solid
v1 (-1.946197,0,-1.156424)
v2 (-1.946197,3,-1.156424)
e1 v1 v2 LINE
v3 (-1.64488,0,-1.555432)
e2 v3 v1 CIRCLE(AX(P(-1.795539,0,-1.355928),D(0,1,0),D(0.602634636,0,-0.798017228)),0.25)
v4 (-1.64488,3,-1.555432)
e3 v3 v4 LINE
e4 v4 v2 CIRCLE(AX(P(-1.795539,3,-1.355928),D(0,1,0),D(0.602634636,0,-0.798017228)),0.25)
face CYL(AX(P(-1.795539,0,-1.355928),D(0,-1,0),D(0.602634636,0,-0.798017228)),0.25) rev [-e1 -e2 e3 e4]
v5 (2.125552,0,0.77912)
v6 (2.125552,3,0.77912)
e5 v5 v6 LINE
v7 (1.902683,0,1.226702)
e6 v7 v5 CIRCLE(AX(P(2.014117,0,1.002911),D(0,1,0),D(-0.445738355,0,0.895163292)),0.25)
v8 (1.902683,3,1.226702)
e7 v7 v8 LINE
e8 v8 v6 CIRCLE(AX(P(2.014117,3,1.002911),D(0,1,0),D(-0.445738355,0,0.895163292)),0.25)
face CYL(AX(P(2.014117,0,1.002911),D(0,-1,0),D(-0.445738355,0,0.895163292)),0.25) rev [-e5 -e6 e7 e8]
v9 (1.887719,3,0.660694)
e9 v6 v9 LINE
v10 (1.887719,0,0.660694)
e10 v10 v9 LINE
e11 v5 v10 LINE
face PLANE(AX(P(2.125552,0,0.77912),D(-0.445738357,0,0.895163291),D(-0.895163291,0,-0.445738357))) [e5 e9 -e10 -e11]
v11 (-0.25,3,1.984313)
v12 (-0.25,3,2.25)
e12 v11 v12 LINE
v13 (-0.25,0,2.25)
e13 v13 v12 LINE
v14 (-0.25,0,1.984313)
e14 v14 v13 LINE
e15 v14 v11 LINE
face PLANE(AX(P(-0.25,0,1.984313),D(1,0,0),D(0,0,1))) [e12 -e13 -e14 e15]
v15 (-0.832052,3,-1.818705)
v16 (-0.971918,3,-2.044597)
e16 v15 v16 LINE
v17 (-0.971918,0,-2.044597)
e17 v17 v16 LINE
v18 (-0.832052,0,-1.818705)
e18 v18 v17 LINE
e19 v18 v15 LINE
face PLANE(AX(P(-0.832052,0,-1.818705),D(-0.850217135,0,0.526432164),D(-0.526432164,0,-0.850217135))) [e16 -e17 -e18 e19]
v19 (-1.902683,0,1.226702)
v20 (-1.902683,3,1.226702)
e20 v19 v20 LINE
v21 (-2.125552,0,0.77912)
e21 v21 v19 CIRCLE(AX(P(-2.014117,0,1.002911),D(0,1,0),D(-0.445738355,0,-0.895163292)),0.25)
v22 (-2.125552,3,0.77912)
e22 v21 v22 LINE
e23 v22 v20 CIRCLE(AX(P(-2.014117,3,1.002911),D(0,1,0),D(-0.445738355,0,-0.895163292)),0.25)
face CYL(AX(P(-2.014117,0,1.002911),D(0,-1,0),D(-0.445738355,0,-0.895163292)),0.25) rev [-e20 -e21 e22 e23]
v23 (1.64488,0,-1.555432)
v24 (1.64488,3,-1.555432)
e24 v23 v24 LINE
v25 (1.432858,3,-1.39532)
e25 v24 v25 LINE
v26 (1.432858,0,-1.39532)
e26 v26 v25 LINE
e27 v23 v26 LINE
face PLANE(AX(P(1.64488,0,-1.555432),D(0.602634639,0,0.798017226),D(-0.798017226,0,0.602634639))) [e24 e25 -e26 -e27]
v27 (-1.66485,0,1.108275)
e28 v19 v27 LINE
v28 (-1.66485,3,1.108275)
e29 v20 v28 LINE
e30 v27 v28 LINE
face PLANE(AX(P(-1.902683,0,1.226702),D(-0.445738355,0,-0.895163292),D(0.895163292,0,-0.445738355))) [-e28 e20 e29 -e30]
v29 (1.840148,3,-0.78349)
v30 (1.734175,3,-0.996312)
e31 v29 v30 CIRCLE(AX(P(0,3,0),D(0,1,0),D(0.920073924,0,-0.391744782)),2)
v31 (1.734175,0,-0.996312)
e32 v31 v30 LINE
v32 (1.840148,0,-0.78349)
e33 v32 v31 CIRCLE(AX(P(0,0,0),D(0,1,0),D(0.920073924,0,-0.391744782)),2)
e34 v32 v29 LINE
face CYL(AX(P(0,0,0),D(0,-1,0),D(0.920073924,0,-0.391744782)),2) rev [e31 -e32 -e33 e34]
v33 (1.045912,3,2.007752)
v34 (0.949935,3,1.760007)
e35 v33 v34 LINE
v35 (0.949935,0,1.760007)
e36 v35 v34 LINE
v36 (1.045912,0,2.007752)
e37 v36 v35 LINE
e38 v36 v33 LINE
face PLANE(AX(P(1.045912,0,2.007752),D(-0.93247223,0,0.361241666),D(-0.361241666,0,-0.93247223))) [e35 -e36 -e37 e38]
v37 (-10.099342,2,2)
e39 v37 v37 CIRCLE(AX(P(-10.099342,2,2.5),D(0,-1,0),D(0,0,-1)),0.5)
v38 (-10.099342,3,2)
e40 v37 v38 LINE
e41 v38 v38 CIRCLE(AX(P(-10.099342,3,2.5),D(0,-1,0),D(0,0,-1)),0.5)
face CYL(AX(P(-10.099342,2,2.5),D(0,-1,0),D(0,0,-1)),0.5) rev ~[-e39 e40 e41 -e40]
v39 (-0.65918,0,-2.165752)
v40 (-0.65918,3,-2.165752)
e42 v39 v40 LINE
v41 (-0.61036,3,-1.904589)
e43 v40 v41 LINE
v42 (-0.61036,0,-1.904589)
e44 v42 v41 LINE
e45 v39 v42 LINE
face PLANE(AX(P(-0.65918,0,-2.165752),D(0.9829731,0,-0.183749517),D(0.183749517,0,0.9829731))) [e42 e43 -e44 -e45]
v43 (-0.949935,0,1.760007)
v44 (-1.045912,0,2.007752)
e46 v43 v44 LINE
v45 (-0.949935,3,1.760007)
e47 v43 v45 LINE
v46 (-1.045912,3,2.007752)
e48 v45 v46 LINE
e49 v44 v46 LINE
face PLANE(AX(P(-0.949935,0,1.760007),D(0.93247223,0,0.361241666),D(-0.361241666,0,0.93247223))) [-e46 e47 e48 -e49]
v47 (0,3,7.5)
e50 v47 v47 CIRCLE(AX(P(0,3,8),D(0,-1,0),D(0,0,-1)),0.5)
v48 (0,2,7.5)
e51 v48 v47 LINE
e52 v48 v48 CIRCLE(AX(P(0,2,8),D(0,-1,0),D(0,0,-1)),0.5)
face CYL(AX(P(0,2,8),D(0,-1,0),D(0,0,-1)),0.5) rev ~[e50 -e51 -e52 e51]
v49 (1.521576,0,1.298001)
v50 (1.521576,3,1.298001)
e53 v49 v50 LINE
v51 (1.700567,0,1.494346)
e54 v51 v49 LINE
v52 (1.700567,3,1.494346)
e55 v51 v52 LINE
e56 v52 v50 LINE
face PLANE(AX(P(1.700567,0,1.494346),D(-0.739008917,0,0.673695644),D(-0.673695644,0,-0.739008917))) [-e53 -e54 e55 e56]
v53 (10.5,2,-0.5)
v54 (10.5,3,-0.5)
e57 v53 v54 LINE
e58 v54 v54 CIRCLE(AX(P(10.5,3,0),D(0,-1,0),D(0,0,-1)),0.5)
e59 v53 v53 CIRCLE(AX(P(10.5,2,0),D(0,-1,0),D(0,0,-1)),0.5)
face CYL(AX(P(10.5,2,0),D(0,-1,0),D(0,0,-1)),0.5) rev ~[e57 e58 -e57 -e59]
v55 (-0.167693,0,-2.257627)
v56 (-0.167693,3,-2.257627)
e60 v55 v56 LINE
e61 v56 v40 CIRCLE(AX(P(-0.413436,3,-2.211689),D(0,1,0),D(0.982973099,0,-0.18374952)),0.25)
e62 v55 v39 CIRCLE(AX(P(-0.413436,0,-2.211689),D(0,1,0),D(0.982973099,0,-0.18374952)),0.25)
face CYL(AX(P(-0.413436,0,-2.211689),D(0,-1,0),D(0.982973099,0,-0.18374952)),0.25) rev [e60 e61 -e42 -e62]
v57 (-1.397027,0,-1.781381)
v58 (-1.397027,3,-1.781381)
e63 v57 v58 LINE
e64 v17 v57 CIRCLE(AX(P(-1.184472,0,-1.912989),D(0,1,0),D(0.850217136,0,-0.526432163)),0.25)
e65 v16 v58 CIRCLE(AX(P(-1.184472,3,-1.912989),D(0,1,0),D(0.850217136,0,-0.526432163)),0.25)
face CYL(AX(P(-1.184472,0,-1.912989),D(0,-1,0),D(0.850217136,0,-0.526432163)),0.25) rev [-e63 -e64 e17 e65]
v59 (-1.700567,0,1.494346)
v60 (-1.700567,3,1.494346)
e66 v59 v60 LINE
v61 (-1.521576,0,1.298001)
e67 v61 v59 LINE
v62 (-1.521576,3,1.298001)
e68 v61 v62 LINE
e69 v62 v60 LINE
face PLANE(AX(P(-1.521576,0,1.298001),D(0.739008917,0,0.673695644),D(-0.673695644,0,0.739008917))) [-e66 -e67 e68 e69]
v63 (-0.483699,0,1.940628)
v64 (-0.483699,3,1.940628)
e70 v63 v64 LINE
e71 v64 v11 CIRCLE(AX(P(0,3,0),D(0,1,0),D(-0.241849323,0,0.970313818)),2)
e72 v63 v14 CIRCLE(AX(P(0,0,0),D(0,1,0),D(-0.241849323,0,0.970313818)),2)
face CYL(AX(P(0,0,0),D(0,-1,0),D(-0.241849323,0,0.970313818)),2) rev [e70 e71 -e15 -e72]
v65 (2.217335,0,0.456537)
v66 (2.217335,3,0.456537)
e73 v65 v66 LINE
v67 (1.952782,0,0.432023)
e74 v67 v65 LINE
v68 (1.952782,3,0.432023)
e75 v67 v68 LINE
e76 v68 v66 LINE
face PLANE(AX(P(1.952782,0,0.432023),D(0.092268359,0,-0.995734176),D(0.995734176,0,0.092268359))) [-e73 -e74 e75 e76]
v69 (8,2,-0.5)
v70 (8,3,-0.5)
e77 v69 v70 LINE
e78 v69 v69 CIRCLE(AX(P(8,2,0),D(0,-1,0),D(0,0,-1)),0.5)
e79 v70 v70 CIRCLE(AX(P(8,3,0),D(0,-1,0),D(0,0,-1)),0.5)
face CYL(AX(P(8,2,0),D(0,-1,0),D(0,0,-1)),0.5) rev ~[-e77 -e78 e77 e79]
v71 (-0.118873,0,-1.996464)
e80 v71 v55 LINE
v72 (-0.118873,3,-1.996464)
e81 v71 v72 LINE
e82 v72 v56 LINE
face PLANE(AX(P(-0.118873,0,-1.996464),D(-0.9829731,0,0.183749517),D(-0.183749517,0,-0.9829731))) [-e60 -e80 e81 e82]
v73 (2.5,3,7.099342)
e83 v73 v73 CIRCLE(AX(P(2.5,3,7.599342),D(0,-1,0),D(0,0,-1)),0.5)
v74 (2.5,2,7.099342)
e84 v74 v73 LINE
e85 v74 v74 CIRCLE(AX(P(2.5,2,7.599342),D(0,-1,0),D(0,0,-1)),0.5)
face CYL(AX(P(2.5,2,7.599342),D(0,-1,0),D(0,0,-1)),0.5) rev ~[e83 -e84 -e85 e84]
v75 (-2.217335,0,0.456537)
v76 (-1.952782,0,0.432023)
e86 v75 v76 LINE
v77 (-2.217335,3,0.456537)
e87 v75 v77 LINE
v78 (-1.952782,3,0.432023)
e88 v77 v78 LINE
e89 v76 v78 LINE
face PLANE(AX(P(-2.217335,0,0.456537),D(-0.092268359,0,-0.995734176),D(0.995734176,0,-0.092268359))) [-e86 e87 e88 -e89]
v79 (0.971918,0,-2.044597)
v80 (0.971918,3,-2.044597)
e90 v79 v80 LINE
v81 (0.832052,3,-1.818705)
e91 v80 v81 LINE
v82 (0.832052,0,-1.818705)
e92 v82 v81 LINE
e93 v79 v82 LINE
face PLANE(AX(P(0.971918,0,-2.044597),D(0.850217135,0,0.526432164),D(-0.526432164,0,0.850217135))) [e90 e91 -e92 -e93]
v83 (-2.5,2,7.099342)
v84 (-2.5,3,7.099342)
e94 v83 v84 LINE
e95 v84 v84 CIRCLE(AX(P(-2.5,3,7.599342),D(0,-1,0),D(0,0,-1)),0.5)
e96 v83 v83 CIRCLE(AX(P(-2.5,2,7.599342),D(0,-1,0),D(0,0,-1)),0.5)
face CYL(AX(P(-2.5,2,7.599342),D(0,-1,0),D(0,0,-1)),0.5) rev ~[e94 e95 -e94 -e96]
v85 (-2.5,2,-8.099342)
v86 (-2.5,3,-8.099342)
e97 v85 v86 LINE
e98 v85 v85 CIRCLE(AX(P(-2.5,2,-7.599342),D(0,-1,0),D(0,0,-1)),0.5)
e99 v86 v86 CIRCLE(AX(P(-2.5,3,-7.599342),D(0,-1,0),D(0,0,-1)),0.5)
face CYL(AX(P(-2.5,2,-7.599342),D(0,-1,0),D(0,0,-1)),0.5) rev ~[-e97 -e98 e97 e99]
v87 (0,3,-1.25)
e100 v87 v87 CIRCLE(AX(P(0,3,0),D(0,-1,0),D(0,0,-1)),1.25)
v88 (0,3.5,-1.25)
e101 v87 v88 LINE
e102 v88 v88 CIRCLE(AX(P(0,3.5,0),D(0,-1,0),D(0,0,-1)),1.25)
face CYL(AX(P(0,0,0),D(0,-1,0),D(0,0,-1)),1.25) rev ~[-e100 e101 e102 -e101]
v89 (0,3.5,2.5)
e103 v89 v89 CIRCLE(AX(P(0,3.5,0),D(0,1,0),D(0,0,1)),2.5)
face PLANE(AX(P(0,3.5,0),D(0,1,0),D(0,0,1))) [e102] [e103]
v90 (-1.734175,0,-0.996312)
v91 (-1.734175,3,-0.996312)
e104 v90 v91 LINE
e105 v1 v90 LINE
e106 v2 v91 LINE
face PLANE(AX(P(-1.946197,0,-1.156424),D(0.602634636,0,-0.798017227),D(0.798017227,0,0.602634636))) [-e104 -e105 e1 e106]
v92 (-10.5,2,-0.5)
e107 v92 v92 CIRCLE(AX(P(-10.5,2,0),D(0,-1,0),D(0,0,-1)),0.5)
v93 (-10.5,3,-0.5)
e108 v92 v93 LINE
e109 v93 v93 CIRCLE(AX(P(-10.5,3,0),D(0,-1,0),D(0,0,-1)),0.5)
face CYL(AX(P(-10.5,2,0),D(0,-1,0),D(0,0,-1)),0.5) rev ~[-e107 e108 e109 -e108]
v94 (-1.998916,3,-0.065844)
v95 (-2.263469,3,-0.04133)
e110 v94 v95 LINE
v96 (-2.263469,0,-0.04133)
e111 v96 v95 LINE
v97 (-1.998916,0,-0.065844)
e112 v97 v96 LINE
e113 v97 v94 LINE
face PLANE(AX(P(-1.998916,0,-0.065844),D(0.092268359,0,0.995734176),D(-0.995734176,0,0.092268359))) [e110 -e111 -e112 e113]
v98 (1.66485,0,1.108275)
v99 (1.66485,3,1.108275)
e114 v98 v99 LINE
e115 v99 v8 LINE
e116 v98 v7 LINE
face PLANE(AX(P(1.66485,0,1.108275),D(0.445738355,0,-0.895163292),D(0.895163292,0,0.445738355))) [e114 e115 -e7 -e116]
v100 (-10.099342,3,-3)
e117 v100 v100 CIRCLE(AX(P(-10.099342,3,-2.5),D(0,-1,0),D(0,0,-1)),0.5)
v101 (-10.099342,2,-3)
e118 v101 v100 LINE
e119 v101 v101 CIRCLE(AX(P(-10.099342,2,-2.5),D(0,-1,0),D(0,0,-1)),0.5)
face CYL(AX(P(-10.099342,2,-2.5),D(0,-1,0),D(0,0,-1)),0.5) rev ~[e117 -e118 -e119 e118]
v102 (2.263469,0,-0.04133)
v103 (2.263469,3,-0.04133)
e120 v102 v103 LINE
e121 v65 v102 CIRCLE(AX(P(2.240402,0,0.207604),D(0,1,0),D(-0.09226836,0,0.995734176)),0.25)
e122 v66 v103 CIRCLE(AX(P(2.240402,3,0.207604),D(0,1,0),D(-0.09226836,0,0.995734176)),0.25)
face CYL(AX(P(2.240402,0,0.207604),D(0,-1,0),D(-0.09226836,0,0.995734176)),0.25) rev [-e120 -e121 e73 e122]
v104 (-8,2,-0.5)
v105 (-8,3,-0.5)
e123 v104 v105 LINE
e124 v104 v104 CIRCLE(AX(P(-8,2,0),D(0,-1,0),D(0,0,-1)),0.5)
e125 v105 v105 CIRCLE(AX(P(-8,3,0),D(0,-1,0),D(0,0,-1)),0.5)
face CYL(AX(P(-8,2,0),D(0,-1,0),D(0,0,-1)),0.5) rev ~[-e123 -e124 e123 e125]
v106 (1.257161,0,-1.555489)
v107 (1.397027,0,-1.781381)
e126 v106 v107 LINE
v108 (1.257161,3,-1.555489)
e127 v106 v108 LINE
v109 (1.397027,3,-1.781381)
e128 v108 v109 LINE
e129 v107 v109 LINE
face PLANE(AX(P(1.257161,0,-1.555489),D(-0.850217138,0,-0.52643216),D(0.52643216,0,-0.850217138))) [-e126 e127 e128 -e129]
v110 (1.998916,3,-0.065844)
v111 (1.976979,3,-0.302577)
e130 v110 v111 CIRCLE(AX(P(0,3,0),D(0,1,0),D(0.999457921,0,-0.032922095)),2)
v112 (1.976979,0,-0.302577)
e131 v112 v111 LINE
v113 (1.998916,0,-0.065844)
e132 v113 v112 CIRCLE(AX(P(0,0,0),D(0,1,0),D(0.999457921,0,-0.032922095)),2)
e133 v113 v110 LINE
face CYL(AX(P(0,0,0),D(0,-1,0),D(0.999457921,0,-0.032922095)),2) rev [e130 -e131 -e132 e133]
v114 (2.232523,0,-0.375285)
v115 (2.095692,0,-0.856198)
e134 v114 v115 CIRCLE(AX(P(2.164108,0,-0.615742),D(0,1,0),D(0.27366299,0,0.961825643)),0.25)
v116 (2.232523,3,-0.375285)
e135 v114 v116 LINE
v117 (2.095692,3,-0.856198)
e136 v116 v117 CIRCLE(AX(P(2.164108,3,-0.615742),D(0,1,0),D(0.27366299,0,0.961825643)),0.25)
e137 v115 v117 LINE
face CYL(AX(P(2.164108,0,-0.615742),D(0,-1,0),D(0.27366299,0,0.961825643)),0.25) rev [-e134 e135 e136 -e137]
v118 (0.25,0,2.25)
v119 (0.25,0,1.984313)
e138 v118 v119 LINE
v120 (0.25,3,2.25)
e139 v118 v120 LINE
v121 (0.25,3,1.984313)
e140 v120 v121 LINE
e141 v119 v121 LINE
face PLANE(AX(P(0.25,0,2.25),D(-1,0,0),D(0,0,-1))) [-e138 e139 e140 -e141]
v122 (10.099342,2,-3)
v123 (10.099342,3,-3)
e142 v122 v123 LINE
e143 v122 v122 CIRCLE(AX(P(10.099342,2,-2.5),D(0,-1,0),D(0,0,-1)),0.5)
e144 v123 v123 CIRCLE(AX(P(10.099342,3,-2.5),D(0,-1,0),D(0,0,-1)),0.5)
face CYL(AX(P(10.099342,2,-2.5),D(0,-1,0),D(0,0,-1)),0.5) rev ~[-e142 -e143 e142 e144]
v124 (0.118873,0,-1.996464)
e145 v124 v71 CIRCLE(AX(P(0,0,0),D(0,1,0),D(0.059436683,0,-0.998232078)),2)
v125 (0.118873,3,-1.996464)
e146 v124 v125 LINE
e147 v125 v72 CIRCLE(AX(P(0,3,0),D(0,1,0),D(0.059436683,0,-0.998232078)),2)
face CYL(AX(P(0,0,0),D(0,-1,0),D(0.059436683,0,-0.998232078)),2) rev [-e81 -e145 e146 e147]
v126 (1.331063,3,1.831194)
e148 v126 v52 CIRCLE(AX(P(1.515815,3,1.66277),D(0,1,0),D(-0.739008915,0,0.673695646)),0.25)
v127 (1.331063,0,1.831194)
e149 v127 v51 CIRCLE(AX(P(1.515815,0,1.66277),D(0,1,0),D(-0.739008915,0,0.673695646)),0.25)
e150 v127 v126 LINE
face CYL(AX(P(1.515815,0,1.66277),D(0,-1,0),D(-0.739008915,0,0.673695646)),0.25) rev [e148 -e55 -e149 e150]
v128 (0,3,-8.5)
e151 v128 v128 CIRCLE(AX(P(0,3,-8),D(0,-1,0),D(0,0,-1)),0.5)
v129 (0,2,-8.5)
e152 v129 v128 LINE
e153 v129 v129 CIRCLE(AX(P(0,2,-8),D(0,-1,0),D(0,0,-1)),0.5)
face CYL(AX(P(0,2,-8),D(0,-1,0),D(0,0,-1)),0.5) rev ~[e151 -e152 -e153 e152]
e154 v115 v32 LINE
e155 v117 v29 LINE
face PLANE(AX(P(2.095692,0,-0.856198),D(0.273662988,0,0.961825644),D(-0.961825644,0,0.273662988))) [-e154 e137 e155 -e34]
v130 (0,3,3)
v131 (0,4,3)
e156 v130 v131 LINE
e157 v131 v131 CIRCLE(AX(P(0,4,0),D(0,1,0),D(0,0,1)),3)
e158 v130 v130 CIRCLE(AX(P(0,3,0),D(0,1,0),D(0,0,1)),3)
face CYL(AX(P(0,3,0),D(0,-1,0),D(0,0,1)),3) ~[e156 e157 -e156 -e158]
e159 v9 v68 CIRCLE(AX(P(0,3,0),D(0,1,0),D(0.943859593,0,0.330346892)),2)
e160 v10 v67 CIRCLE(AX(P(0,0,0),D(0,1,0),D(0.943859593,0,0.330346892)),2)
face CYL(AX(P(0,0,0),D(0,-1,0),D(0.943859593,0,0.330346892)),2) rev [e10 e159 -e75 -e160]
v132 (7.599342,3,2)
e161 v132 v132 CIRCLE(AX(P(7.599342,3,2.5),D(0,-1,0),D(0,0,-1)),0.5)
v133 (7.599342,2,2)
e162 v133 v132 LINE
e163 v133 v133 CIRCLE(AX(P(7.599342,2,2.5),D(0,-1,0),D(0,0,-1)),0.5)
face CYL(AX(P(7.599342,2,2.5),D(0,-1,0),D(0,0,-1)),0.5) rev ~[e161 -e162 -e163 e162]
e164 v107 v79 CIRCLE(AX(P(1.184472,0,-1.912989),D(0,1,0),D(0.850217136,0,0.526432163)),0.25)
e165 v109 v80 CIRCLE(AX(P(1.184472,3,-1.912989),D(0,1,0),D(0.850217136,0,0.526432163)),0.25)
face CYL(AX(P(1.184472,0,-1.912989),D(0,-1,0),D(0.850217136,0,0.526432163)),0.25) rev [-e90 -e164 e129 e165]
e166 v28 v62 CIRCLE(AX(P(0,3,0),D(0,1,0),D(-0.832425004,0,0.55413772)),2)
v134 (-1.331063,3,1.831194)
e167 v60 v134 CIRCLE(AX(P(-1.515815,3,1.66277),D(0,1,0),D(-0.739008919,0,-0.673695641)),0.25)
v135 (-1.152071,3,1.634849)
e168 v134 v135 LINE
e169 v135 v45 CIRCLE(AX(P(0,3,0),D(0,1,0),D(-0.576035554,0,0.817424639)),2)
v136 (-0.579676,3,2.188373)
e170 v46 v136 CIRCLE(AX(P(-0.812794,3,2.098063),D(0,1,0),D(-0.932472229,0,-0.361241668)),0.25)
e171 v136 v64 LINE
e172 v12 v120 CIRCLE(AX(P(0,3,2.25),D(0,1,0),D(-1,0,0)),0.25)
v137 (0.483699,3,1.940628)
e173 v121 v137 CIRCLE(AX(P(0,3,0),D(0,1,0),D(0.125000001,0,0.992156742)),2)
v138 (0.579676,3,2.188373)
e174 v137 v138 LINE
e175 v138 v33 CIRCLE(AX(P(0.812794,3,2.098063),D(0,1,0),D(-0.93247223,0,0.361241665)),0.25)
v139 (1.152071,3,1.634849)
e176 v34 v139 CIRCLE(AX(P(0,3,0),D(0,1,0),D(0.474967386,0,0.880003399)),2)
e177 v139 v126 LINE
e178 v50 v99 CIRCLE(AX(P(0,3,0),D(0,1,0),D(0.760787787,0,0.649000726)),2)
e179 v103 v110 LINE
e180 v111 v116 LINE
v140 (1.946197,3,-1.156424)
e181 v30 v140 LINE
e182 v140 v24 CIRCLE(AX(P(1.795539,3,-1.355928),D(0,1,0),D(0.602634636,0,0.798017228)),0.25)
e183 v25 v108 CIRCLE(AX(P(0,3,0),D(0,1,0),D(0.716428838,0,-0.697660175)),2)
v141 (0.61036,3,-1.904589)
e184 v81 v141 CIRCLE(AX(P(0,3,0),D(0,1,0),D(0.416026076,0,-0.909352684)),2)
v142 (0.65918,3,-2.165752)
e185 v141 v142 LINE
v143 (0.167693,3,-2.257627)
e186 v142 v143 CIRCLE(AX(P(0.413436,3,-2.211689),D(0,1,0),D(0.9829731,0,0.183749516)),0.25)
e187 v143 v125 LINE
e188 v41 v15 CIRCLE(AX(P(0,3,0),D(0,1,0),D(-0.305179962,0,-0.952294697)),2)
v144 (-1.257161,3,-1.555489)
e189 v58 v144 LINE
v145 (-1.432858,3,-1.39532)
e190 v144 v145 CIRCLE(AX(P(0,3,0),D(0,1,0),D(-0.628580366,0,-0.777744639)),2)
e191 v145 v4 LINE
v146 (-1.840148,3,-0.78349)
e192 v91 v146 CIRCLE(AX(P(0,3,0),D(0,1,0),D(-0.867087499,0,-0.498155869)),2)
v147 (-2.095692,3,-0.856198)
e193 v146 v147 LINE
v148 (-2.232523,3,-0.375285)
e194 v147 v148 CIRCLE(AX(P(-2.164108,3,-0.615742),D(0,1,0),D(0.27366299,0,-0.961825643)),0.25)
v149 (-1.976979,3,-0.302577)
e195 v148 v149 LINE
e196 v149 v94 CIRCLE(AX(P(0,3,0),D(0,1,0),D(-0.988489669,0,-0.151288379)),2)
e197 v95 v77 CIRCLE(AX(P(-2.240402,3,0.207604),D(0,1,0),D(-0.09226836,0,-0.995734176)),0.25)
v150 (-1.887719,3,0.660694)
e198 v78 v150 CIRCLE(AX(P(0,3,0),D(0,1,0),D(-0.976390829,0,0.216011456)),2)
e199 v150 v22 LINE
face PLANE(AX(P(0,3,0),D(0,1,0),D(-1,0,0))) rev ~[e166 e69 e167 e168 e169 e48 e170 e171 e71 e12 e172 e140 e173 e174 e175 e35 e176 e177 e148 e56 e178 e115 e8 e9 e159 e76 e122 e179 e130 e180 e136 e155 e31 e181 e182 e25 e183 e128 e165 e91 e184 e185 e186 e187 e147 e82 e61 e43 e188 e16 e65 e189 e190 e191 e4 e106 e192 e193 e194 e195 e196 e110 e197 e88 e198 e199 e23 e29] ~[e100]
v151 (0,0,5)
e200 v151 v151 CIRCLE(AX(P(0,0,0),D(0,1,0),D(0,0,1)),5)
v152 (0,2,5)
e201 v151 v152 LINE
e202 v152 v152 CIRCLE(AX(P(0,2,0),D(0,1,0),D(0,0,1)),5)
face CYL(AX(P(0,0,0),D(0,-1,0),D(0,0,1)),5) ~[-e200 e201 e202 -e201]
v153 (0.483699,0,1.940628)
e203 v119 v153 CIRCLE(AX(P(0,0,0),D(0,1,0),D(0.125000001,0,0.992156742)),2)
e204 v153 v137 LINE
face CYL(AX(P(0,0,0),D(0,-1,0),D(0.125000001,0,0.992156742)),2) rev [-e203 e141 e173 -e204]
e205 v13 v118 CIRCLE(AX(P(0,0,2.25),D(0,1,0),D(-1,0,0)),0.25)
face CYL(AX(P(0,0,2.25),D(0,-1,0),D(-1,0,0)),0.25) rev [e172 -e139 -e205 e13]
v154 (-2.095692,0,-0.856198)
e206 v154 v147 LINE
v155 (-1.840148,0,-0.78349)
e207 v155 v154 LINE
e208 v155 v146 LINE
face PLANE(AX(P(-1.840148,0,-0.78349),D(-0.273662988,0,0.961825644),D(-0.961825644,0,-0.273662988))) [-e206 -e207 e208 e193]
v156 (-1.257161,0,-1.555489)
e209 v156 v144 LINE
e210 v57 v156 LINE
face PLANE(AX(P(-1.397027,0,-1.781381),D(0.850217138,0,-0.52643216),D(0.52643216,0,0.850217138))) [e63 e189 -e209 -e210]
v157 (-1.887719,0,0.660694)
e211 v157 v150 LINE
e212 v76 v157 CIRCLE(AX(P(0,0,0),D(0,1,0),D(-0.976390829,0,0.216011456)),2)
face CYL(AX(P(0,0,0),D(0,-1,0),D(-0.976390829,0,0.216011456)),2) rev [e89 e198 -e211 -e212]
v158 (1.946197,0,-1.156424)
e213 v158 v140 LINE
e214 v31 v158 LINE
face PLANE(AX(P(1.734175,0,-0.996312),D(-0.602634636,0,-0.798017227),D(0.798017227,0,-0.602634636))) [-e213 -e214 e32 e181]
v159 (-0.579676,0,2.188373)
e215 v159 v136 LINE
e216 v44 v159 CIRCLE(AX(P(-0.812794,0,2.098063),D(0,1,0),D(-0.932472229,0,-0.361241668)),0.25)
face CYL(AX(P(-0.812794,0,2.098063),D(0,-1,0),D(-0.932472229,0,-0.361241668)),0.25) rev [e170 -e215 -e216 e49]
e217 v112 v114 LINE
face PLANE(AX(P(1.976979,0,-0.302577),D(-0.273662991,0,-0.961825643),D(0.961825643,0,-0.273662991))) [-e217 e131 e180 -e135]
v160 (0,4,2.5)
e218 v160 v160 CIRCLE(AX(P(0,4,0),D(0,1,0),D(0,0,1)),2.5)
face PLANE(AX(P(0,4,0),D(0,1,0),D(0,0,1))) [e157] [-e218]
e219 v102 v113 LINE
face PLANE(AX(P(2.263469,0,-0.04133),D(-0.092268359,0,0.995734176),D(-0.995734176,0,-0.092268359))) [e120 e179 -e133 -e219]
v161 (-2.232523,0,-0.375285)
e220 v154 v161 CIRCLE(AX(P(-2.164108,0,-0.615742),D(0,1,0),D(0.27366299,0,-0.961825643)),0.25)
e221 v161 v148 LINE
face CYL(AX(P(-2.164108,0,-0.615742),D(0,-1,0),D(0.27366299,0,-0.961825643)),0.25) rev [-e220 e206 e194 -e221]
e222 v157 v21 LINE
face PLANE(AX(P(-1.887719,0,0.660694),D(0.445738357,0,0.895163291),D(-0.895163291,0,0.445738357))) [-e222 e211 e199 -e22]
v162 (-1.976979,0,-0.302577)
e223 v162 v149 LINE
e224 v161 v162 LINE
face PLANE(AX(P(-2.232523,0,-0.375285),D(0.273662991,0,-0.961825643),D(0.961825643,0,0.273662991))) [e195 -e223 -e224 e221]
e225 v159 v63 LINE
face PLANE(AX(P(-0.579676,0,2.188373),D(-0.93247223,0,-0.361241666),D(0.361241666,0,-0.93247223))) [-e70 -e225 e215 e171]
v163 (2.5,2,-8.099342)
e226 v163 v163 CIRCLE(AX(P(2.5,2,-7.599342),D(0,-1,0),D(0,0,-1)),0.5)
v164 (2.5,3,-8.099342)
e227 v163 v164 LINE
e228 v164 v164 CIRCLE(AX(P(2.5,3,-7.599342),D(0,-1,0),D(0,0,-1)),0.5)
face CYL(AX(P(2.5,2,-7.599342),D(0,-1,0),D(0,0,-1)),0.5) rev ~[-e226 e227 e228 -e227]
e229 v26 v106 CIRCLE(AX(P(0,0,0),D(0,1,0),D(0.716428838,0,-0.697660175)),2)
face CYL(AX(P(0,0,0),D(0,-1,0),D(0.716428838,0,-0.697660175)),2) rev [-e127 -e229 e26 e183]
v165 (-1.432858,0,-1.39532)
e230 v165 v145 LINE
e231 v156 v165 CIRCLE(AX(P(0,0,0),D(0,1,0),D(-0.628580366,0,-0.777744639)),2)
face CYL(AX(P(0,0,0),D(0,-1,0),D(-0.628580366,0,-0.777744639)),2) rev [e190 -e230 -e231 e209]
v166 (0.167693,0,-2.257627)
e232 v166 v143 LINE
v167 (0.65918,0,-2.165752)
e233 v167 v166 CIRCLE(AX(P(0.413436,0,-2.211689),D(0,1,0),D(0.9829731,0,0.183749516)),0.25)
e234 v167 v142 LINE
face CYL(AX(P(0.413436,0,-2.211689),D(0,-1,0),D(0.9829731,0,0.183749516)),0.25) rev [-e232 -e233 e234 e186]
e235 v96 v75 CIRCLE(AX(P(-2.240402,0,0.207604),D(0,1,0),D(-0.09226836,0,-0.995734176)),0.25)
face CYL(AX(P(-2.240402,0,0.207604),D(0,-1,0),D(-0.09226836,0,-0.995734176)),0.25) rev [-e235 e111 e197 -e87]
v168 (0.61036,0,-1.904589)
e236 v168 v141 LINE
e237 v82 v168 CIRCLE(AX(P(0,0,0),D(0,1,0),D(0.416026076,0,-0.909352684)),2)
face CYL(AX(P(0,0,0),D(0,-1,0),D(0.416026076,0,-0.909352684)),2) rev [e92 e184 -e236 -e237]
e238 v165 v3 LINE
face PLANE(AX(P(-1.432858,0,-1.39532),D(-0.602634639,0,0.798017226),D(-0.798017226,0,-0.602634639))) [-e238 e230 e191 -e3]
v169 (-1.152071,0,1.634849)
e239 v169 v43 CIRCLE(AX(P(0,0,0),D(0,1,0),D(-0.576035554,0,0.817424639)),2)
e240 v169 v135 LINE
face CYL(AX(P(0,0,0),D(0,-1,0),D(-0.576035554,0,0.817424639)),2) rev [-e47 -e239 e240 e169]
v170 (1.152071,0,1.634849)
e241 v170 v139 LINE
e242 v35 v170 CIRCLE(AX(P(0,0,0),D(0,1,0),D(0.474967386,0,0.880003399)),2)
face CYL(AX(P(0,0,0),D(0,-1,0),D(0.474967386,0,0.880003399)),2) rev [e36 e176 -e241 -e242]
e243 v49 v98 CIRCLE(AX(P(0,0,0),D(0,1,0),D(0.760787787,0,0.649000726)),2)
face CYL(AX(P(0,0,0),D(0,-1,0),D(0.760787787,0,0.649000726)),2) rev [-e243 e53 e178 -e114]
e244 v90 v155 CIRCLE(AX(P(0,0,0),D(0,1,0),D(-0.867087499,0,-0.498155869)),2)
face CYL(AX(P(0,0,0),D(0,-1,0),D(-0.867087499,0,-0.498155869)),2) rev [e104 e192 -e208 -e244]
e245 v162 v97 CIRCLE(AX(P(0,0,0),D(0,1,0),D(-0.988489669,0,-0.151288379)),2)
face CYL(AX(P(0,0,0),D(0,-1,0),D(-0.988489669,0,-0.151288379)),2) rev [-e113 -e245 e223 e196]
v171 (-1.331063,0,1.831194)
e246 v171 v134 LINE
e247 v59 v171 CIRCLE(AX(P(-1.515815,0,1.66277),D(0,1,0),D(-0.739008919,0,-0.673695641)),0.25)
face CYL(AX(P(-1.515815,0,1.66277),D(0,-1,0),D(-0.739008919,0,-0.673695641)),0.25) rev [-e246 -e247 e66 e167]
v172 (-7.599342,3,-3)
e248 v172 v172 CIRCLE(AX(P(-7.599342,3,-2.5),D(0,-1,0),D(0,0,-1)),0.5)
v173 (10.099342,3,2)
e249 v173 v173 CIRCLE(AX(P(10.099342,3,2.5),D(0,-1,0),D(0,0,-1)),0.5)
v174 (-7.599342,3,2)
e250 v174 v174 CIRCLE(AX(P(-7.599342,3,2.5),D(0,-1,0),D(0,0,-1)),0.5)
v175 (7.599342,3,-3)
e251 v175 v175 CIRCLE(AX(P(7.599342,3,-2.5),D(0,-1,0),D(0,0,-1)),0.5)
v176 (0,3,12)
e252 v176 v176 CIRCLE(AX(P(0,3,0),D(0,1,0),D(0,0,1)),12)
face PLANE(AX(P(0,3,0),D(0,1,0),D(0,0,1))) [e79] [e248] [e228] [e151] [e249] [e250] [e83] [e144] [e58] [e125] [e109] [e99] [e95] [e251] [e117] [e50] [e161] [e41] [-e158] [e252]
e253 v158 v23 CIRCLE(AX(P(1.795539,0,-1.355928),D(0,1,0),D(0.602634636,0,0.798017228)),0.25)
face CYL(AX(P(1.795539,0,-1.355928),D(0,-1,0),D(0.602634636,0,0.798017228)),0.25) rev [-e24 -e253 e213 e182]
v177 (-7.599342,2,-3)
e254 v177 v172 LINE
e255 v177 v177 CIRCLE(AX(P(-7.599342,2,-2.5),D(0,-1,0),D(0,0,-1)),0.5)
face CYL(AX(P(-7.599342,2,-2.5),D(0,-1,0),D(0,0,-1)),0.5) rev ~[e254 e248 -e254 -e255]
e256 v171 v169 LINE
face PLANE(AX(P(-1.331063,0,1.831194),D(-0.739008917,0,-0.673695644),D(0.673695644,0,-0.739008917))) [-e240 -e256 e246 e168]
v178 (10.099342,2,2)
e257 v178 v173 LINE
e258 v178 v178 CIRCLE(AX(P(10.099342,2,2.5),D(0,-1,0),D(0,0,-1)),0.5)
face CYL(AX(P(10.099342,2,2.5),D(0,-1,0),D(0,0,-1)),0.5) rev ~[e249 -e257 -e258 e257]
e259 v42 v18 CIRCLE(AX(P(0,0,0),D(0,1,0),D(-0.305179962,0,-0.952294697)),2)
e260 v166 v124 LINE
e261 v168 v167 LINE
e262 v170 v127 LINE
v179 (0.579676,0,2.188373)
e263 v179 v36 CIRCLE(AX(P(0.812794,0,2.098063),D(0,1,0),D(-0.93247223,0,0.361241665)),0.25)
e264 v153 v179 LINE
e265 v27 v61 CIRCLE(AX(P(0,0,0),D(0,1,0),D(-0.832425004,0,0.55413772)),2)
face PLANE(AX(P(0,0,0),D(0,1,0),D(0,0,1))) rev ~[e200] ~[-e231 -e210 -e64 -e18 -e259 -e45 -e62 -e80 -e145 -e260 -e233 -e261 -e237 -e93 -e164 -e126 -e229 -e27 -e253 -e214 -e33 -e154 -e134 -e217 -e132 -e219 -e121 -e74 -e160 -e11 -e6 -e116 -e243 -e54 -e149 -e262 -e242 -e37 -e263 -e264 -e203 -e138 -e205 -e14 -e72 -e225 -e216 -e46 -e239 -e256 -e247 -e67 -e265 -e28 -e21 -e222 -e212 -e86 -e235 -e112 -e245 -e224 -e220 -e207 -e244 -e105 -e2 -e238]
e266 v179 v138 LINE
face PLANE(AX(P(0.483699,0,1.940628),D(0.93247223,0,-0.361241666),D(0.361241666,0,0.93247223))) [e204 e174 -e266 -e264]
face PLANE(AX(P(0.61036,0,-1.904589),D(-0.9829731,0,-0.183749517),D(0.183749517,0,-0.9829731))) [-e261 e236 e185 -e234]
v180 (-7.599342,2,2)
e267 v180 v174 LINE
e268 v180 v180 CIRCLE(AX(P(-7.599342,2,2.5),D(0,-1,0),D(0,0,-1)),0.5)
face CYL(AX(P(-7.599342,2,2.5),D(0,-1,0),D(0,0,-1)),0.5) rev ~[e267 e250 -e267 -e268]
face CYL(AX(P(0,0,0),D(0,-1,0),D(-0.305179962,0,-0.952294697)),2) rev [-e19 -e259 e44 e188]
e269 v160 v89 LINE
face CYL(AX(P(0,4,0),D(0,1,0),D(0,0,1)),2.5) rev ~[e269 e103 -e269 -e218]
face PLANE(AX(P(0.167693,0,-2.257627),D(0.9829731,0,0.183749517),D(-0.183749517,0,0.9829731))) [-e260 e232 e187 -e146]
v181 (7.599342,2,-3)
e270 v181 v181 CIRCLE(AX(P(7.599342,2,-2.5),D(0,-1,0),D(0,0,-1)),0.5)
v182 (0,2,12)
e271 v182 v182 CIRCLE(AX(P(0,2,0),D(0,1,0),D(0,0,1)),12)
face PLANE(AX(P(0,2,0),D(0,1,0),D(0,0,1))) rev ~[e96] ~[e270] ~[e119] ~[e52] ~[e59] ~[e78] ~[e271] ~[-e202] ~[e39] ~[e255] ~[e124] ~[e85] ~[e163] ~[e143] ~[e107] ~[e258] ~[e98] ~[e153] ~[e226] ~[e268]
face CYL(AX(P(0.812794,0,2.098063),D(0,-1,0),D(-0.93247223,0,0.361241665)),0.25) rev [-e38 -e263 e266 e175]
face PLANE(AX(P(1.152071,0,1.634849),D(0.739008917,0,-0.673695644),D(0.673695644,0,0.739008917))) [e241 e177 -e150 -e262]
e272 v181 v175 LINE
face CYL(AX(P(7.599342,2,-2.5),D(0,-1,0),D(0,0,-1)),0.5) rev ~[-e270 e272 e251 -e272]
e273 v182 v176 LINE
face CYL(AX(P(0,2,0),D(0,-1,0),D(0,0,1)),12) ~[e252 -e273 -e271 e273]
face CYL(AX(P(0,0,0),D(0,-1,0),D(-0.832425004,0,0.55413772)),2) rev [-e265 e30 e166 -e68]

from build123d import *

# Parameters (mm, degrees)
SKETCH1_R           = 5
BOSS_EXTRUDE1_DEPTH = 2
SKETCH2_R           = 12
BOSS_EXTRUDE2_DEPTH = 2
SKETCH3_R           = 1.25
CUT_EXTRUDE1_DEPTH  = 18.435595774
CUT_EXTRUDE2_DEPTH  = 3
CUT_EXTRUDE3_START  = -1
SKETCH5_R           = 12
SKETCH5_R_2         = 3
CUT_EXTRUDE3_DEPTH  = 1
SKETCH6_R           = 2.5
CUT_EXTRUDE4_DEPTH  = 0.5
SKETCH7_R           = 0.5
CUT_EXTRUDE5_DEPTH  = 18.088007491


with BuildPart() as part:
    # Sketch1 → Boss-Extrude1 (new body)
    with BuildSketch(Plane(origin=(0, 0, 0), x_dir=(1, 0, 0), z_dir=(0, 1, 0))):
        with Locations(Location((0, 0, 0), (0, 0, 270))):
            Circle(SKETCH1_R)
    extrude(amount=BOSS_EXTRUDE1_DEPTH)

    # Sketch2 → Boss-Extrude2 (add)
    with BuildSketch(Plane(origin=(0, 2, 0), x_dir=(1, 0, 0), z_dir=(0, 1, 0))):
        with Locations(Location((0, 0, 0), (0, 0, 270))):
            Circle(SKETCH2_R)
    extrude(amount=BOSS_EXTRUDE2_DEPTH)

    # Sketch3 → Cut-Extrude1 (cut, through all)
    with BuildSketch(Plane.XZ):
        with Locations(Location((0, 0, 0), (0, 0, 270))):
            Circle(SKETCH3_R)
    extrude(amount=-CUT_EXTRUDE1_DEPTH, mode=Mode.SUBTRACT)

    # Sketch4 → Cut-Extrude2 (cut)
    with BuildSketch(Plane.XZ):
        with BuildLine():
            Line((0.25, 2.25), (0.25, 1.984313483))
            ThreePointArc((0.25, 1.984313483), (0.367499036, 1.965946199), (0.483698652, 1.940627634))
            Line((0.483698652, 1.940627634), (0.579675692, 2.188372933))
            ThreePointArc((0.579675692, 2.188372933), (0.903104165, 2.331180574), (1.045911806, 2.0077521))
            Line((1.045911806, 2.0077521), (0.949934766, 1.760006801))
            ThreePointArc((0.949934766, 1.760006801), (1.052864326, 1.700434271), (1.15207112, 1.63484927))
            Line((1.15207112, 1.63484927), (1.331062969, 1.831193975))
            ThreePointArc((1.331062969, 1.831193975), (1.684239109, 1.847522293), (1.700567428, 1.494346153))
            Line((1.700567428, 1.494346153), (1.521575579, 1.298001448))
            ThreePointArc((1.521575579, 1.298001448), (1.596034455, 1.205269273), (1.66485, 1.108275452))
            Line((1.66485, 1.108275452), (1.902682817, 1.226702123))
            ThreePointArc((1.902682817, 1.226702123), (2.237908228, 1.114345889), (2.125551994, 0.779120478))
            Line((2.125551994, 0.779120478), (1.887719178, 0.660693807))
            ThreePointArc((1.887719178, 0.660693807), (1.923651286, 0.54732598), (1.952781662, 0.432022894))
            Line((1.952781662, 0.432022894), (2.217334807, 0.456537353))
            ThreePointArc((2.217334807, 0.456537353), (2.489335441, 0.230670899), (2.263468987, -0.041329735))
            Line((2.263468987, -0.041329735), (1.998915842, -0.065844194))
            ThreePointArc((1.998915842, -0.065844194), (1.991468353, -0.184536719), (1.97697934, -0.30257675))
            Line((1.97697934, -0.30257675), (2.232523445, -0.375285317))
            ThreePointArc((2.232523445, -0.375285317), (2.404564108, -0.684157475), (2.09569195, -0.856198138))
            Line((2.09569195, -0.856198138), (1.840147845, -0.783489572))
            ThreePointArc((1.840147845, -0.783489572), (1.790326583, -0.891476712), (1.734175003, -0.996311728))
            Line((1.734175003, -0.996311728), (1.94619742, -1.156423625))
            ThreePointArc((1.94619742, -1.156423625), (1.995043068, -1.506586591), (1.644880102, -1.555432239))
            Line((1.644880102, -1.555432239), (1.432857685, -1.395320341))
            ThreePointArc((1.432857685, -1.395320341), (1.347391287, -1.478017834), (1.257160723, -1.555489285))
            Line((1.257160723, -1.555489285), (1.39702665, -1.781380515))
            ThreePointArc((1.39702665, -1.781380515), (1.316080407, -2.125542839), (0.971918083, -2.044596596))
            Line((0.971918083, -2.044596596), (0.832052155, -1.818705367))
            ThreePointArc((0.832052155, -1.818705367), (0.722483332, -1.864944459), (0.610359921, -1.904589396))
            Line((0.610359921, -1.904589396), (0.65917969, -2.165752095))
            ThreePointArc((0.65917969, -2.165752095), (0.459373795, -2.457432749), (0.16769314, -2.257626854))
            Line((0.16769314, -2.257626854), (0.118873371, -1.996464155))
            ThreePointArc((0.118873371, -1.996464155), (0, -2), (-0.118873371, -1.996464155))
            Line((-0.118873371, -1.996464155), (-0.16769314, -2.257626854))
            ThreePointArc((-0.16769314, -2.257626854), (-0.459373795, -2.457432749), (-0.65917969, -2.165752095))
            Line((-0.65917969, -2.165752095), (-0.610359921, -1.904589396))
            ThreePointArc((-0.610359921, -1.904589396), (-0.722483332, -1.864944459), (-0.832052155, -1.818705367))
            Line((-0.832052155, -1.818705367), (-0.971918083, -2.044596596))
            ThreePointArc((-0.971918083, -2.044596596), (-1.316080407, -2.125542839), (-1.39702665, -1.781380515))
            Line((-1.39702665, -1.781380515), (-1.257160723, -1.555489285))
            ThreePointArc((-1.257160723, -1.555489285), (-1.347391287, -1.478017834), (-1.432857685, -1.395320341))
            Line((-1.432857685, -1.395320341), (-1.644880102, -1.555432239))
            ThreePointArc((-1.644880102, -1.555432239), (-1.995043068, -1.506586591), (-1.94619742, -1.156423625))
            Line((-1.94619742, -1.156423625), (-1.734175003, -0.996311728))
            ThreePointArc((-1.734175003, -0.996311728), (-1.790326583, -0.891476712), (-1.840147845, -0.783489572))
            Line((-1.840147845, -0.783489572), (-2.09569195, -0.856198138))
            ThreePointArc((-2.09569195, -0.856198138), (-2.404564108, -0.684157475), (-2.232523445, -0.375285317))
            Line((-2.232523445, -0.375285317), (-1.97697934, -0.30257675))
            ThreePointArc((-1.97697934, -0.30257675), (-1.991468353, -0.184536719), (-1.998915842, -0.065844194))
            Line((-1.998915842, -0.065844194), (-2.263468987, -0.041329735))
            ThreePointArc((-2.263468987, -0.041329735), (-2.489335441, 0.230670899), (-2.217334807, 0.456537353))
            Line((-2.217334807, 0.456537353), (-1.952781662, 0.432022894))
            ThreePointArc((-1.952781662, 0.432022894), (-1.923651286, 0.54732598), (-1.887719178, 0.660693807))
            Line((-1.887719178, 0.660693807), (-2.125551994, 0.779120478))
            ThreePointArc((-2.125551994, 0.779120478), (-2.237908228, 1.114345889), (-1.902682817, 1.226702123))
            Line((-1.902682817, 1.226702123), (-1.66485, 1.108275452))
            ThreePointArc((-1.66485, 1.108275452), (-1.596034455, 1.205269273), (-1.521575579, 1.298001448))
            Line((-1.521575579, 1.298001448), (-1.700567428, 1.494346153))
            ThreePointArc((-1.700567428, 1.494346153), (-1.684239109, 1.847522293), (-1.331062969, 1.831193975))
            Line((-1.331062969, 1.831193975), (-1.15207112, 1.63484927))
            ThreePointArc((-1.15207112, 1.63484927), (-1.052864326, 1.700434271), (-0.949934766, 1.760006801))
            Line((-0.949934766, 1.760006801), (-1.045911806, 2.0077521))
            ThreePointArc((-1.045911806, 2.0077521), (-0.903104165, 2.331180574), (-0.579675692, 2.188372933))
            Line((-0.579675692, 2.188372933), (-0.483698652, 1.940627634))
            ThreePointArc((-0.483698652, 1.940627634), (-0.367499036, 1.965946199), (-0.25, 1.984313483))
            Line((-0.25, 1.984313483), (-0.25, 2.25))
            ThreePointArc((-0.25, 2.25), (0, 2.5), (0.25, 2.25))
        make_face()
    extrude(amount=-CUT_EXTRUDE2_DEPTH, mode=Mode.SUBTRACT)

    # Sketch5 → Cut-Extrude3 (cut)
    with BuildSketch(Plane(origin=(0, 4, 0), x_dir=(1, 0, 0), z_dir=(0, 1, 0)).offset(CUT_EXTRUDE3_START)):
        with Locations(Location((0, 0, 0), (0, 0, 270))):
            Circle(SKETCH5_R)
        with Locations(Location((0, 0, 0), (0, 0, 270))):
            Circle(SKETCH5_R_2, mode=Mode.SUBTRACT)
    extrude(amount=CUT_EXTRUDE3_DEPTH, mode=Mode.SUBTRACT)

    # Sketch6 → Cut-Extrude4 (cut)
    with BuildSketch(Plane(origin=(0, 4, 0), x_dir=(1, 0, 0), z_dir=(0, 1, 0))):
        with Locations(Location((0, 0, 0), (0, 0, 270))):
            Circle(SKETCH6_R)
    extrude(amount=-CUT_EXTRUDE4_DEPTH, mode=Mode.SUBTRACT)

    # Sketch7 → Cut-Extrude5 (cut, through all)
    with BuildSketch(Plane.XZ.offset(-2)):
        with Locations(Location((0, 8, 0), (0, 0, 270))):
            Circle(SKETCH7_R)
        with Locations(Location((2.5, 7.599342077, 0), (0, 0, 270))):
            Circle(SKETCH7_R)
        with Locations(Location((-2.5, 7.599342077, 0), (0, 0, 270))):
            Circle(SKETCH7_R)
        with Locations(Location((8, 0, 0), (0, 0, 270))):
            Circle(SKETCH7_R)
        with Locations(Location((7.599342077, -2.5, 0), (0, 0, 270))):
            Circle(SKETCH7_R)
        with Locations(Location((7.599342077, 2.5, 0), (0, 0, 270))):
            Circle(SKETCH7_R)
        with Locations(Location((0, -8, 0), (0, 0, 270))):
            Circle(SKETCH7_R)
        with Locations(Location((-2.5, -7.599342077, 0), (0, 0, 270))):
            Circle(SKETCH7_R)
        with Locations(Location((2.5, -7.599342077, 0), (0, 0, 270))):
            Circle(SKETCH7_R)
        with Locations(Location((-8, 0, 0), (0, 0, 270))):
            Circle(SKETCH7_R)
        with Locations(Location((-7.599342077, 2.5, 0), (0, 0, 270))):
            Circle(SKETCH7_R)
        with Locations(Location((-7.599342077, -2.5, 0), (0, 0, 270))):
            Circle(SKETCH7_R)
        with Locations(Location((10.099342077, 2.5, 0), (0, 0, 270))):
            Circle(SKETCH7_R)
        with Locations(Location((10.099342077, -2.5, 0), (0, 0, 270))):
            Circle(SKETCH7_R)
        with Locations(Location((10.5, 0, 0), (0, 0, 270))):
            Circle(SKETCH7_R)
        with Locations(Location((-10.099342077, 2.5, 0), (0, 0, 270))):
            Circle(SKETCH7_R)
        with Locations(Location((-10.099342077, -2.5, 0), (0, 0, 270))):
            Circle(SKETCH7_R)
        with Locations(Location((-10.5, 0, 0), (0, 0, 270))):
            Circle(SKETCH7_R)
    extrude(amount=-CUT_EXTRUDE5_DEPTH, mode=Mode.SUBTRACT)


solid = part.part
